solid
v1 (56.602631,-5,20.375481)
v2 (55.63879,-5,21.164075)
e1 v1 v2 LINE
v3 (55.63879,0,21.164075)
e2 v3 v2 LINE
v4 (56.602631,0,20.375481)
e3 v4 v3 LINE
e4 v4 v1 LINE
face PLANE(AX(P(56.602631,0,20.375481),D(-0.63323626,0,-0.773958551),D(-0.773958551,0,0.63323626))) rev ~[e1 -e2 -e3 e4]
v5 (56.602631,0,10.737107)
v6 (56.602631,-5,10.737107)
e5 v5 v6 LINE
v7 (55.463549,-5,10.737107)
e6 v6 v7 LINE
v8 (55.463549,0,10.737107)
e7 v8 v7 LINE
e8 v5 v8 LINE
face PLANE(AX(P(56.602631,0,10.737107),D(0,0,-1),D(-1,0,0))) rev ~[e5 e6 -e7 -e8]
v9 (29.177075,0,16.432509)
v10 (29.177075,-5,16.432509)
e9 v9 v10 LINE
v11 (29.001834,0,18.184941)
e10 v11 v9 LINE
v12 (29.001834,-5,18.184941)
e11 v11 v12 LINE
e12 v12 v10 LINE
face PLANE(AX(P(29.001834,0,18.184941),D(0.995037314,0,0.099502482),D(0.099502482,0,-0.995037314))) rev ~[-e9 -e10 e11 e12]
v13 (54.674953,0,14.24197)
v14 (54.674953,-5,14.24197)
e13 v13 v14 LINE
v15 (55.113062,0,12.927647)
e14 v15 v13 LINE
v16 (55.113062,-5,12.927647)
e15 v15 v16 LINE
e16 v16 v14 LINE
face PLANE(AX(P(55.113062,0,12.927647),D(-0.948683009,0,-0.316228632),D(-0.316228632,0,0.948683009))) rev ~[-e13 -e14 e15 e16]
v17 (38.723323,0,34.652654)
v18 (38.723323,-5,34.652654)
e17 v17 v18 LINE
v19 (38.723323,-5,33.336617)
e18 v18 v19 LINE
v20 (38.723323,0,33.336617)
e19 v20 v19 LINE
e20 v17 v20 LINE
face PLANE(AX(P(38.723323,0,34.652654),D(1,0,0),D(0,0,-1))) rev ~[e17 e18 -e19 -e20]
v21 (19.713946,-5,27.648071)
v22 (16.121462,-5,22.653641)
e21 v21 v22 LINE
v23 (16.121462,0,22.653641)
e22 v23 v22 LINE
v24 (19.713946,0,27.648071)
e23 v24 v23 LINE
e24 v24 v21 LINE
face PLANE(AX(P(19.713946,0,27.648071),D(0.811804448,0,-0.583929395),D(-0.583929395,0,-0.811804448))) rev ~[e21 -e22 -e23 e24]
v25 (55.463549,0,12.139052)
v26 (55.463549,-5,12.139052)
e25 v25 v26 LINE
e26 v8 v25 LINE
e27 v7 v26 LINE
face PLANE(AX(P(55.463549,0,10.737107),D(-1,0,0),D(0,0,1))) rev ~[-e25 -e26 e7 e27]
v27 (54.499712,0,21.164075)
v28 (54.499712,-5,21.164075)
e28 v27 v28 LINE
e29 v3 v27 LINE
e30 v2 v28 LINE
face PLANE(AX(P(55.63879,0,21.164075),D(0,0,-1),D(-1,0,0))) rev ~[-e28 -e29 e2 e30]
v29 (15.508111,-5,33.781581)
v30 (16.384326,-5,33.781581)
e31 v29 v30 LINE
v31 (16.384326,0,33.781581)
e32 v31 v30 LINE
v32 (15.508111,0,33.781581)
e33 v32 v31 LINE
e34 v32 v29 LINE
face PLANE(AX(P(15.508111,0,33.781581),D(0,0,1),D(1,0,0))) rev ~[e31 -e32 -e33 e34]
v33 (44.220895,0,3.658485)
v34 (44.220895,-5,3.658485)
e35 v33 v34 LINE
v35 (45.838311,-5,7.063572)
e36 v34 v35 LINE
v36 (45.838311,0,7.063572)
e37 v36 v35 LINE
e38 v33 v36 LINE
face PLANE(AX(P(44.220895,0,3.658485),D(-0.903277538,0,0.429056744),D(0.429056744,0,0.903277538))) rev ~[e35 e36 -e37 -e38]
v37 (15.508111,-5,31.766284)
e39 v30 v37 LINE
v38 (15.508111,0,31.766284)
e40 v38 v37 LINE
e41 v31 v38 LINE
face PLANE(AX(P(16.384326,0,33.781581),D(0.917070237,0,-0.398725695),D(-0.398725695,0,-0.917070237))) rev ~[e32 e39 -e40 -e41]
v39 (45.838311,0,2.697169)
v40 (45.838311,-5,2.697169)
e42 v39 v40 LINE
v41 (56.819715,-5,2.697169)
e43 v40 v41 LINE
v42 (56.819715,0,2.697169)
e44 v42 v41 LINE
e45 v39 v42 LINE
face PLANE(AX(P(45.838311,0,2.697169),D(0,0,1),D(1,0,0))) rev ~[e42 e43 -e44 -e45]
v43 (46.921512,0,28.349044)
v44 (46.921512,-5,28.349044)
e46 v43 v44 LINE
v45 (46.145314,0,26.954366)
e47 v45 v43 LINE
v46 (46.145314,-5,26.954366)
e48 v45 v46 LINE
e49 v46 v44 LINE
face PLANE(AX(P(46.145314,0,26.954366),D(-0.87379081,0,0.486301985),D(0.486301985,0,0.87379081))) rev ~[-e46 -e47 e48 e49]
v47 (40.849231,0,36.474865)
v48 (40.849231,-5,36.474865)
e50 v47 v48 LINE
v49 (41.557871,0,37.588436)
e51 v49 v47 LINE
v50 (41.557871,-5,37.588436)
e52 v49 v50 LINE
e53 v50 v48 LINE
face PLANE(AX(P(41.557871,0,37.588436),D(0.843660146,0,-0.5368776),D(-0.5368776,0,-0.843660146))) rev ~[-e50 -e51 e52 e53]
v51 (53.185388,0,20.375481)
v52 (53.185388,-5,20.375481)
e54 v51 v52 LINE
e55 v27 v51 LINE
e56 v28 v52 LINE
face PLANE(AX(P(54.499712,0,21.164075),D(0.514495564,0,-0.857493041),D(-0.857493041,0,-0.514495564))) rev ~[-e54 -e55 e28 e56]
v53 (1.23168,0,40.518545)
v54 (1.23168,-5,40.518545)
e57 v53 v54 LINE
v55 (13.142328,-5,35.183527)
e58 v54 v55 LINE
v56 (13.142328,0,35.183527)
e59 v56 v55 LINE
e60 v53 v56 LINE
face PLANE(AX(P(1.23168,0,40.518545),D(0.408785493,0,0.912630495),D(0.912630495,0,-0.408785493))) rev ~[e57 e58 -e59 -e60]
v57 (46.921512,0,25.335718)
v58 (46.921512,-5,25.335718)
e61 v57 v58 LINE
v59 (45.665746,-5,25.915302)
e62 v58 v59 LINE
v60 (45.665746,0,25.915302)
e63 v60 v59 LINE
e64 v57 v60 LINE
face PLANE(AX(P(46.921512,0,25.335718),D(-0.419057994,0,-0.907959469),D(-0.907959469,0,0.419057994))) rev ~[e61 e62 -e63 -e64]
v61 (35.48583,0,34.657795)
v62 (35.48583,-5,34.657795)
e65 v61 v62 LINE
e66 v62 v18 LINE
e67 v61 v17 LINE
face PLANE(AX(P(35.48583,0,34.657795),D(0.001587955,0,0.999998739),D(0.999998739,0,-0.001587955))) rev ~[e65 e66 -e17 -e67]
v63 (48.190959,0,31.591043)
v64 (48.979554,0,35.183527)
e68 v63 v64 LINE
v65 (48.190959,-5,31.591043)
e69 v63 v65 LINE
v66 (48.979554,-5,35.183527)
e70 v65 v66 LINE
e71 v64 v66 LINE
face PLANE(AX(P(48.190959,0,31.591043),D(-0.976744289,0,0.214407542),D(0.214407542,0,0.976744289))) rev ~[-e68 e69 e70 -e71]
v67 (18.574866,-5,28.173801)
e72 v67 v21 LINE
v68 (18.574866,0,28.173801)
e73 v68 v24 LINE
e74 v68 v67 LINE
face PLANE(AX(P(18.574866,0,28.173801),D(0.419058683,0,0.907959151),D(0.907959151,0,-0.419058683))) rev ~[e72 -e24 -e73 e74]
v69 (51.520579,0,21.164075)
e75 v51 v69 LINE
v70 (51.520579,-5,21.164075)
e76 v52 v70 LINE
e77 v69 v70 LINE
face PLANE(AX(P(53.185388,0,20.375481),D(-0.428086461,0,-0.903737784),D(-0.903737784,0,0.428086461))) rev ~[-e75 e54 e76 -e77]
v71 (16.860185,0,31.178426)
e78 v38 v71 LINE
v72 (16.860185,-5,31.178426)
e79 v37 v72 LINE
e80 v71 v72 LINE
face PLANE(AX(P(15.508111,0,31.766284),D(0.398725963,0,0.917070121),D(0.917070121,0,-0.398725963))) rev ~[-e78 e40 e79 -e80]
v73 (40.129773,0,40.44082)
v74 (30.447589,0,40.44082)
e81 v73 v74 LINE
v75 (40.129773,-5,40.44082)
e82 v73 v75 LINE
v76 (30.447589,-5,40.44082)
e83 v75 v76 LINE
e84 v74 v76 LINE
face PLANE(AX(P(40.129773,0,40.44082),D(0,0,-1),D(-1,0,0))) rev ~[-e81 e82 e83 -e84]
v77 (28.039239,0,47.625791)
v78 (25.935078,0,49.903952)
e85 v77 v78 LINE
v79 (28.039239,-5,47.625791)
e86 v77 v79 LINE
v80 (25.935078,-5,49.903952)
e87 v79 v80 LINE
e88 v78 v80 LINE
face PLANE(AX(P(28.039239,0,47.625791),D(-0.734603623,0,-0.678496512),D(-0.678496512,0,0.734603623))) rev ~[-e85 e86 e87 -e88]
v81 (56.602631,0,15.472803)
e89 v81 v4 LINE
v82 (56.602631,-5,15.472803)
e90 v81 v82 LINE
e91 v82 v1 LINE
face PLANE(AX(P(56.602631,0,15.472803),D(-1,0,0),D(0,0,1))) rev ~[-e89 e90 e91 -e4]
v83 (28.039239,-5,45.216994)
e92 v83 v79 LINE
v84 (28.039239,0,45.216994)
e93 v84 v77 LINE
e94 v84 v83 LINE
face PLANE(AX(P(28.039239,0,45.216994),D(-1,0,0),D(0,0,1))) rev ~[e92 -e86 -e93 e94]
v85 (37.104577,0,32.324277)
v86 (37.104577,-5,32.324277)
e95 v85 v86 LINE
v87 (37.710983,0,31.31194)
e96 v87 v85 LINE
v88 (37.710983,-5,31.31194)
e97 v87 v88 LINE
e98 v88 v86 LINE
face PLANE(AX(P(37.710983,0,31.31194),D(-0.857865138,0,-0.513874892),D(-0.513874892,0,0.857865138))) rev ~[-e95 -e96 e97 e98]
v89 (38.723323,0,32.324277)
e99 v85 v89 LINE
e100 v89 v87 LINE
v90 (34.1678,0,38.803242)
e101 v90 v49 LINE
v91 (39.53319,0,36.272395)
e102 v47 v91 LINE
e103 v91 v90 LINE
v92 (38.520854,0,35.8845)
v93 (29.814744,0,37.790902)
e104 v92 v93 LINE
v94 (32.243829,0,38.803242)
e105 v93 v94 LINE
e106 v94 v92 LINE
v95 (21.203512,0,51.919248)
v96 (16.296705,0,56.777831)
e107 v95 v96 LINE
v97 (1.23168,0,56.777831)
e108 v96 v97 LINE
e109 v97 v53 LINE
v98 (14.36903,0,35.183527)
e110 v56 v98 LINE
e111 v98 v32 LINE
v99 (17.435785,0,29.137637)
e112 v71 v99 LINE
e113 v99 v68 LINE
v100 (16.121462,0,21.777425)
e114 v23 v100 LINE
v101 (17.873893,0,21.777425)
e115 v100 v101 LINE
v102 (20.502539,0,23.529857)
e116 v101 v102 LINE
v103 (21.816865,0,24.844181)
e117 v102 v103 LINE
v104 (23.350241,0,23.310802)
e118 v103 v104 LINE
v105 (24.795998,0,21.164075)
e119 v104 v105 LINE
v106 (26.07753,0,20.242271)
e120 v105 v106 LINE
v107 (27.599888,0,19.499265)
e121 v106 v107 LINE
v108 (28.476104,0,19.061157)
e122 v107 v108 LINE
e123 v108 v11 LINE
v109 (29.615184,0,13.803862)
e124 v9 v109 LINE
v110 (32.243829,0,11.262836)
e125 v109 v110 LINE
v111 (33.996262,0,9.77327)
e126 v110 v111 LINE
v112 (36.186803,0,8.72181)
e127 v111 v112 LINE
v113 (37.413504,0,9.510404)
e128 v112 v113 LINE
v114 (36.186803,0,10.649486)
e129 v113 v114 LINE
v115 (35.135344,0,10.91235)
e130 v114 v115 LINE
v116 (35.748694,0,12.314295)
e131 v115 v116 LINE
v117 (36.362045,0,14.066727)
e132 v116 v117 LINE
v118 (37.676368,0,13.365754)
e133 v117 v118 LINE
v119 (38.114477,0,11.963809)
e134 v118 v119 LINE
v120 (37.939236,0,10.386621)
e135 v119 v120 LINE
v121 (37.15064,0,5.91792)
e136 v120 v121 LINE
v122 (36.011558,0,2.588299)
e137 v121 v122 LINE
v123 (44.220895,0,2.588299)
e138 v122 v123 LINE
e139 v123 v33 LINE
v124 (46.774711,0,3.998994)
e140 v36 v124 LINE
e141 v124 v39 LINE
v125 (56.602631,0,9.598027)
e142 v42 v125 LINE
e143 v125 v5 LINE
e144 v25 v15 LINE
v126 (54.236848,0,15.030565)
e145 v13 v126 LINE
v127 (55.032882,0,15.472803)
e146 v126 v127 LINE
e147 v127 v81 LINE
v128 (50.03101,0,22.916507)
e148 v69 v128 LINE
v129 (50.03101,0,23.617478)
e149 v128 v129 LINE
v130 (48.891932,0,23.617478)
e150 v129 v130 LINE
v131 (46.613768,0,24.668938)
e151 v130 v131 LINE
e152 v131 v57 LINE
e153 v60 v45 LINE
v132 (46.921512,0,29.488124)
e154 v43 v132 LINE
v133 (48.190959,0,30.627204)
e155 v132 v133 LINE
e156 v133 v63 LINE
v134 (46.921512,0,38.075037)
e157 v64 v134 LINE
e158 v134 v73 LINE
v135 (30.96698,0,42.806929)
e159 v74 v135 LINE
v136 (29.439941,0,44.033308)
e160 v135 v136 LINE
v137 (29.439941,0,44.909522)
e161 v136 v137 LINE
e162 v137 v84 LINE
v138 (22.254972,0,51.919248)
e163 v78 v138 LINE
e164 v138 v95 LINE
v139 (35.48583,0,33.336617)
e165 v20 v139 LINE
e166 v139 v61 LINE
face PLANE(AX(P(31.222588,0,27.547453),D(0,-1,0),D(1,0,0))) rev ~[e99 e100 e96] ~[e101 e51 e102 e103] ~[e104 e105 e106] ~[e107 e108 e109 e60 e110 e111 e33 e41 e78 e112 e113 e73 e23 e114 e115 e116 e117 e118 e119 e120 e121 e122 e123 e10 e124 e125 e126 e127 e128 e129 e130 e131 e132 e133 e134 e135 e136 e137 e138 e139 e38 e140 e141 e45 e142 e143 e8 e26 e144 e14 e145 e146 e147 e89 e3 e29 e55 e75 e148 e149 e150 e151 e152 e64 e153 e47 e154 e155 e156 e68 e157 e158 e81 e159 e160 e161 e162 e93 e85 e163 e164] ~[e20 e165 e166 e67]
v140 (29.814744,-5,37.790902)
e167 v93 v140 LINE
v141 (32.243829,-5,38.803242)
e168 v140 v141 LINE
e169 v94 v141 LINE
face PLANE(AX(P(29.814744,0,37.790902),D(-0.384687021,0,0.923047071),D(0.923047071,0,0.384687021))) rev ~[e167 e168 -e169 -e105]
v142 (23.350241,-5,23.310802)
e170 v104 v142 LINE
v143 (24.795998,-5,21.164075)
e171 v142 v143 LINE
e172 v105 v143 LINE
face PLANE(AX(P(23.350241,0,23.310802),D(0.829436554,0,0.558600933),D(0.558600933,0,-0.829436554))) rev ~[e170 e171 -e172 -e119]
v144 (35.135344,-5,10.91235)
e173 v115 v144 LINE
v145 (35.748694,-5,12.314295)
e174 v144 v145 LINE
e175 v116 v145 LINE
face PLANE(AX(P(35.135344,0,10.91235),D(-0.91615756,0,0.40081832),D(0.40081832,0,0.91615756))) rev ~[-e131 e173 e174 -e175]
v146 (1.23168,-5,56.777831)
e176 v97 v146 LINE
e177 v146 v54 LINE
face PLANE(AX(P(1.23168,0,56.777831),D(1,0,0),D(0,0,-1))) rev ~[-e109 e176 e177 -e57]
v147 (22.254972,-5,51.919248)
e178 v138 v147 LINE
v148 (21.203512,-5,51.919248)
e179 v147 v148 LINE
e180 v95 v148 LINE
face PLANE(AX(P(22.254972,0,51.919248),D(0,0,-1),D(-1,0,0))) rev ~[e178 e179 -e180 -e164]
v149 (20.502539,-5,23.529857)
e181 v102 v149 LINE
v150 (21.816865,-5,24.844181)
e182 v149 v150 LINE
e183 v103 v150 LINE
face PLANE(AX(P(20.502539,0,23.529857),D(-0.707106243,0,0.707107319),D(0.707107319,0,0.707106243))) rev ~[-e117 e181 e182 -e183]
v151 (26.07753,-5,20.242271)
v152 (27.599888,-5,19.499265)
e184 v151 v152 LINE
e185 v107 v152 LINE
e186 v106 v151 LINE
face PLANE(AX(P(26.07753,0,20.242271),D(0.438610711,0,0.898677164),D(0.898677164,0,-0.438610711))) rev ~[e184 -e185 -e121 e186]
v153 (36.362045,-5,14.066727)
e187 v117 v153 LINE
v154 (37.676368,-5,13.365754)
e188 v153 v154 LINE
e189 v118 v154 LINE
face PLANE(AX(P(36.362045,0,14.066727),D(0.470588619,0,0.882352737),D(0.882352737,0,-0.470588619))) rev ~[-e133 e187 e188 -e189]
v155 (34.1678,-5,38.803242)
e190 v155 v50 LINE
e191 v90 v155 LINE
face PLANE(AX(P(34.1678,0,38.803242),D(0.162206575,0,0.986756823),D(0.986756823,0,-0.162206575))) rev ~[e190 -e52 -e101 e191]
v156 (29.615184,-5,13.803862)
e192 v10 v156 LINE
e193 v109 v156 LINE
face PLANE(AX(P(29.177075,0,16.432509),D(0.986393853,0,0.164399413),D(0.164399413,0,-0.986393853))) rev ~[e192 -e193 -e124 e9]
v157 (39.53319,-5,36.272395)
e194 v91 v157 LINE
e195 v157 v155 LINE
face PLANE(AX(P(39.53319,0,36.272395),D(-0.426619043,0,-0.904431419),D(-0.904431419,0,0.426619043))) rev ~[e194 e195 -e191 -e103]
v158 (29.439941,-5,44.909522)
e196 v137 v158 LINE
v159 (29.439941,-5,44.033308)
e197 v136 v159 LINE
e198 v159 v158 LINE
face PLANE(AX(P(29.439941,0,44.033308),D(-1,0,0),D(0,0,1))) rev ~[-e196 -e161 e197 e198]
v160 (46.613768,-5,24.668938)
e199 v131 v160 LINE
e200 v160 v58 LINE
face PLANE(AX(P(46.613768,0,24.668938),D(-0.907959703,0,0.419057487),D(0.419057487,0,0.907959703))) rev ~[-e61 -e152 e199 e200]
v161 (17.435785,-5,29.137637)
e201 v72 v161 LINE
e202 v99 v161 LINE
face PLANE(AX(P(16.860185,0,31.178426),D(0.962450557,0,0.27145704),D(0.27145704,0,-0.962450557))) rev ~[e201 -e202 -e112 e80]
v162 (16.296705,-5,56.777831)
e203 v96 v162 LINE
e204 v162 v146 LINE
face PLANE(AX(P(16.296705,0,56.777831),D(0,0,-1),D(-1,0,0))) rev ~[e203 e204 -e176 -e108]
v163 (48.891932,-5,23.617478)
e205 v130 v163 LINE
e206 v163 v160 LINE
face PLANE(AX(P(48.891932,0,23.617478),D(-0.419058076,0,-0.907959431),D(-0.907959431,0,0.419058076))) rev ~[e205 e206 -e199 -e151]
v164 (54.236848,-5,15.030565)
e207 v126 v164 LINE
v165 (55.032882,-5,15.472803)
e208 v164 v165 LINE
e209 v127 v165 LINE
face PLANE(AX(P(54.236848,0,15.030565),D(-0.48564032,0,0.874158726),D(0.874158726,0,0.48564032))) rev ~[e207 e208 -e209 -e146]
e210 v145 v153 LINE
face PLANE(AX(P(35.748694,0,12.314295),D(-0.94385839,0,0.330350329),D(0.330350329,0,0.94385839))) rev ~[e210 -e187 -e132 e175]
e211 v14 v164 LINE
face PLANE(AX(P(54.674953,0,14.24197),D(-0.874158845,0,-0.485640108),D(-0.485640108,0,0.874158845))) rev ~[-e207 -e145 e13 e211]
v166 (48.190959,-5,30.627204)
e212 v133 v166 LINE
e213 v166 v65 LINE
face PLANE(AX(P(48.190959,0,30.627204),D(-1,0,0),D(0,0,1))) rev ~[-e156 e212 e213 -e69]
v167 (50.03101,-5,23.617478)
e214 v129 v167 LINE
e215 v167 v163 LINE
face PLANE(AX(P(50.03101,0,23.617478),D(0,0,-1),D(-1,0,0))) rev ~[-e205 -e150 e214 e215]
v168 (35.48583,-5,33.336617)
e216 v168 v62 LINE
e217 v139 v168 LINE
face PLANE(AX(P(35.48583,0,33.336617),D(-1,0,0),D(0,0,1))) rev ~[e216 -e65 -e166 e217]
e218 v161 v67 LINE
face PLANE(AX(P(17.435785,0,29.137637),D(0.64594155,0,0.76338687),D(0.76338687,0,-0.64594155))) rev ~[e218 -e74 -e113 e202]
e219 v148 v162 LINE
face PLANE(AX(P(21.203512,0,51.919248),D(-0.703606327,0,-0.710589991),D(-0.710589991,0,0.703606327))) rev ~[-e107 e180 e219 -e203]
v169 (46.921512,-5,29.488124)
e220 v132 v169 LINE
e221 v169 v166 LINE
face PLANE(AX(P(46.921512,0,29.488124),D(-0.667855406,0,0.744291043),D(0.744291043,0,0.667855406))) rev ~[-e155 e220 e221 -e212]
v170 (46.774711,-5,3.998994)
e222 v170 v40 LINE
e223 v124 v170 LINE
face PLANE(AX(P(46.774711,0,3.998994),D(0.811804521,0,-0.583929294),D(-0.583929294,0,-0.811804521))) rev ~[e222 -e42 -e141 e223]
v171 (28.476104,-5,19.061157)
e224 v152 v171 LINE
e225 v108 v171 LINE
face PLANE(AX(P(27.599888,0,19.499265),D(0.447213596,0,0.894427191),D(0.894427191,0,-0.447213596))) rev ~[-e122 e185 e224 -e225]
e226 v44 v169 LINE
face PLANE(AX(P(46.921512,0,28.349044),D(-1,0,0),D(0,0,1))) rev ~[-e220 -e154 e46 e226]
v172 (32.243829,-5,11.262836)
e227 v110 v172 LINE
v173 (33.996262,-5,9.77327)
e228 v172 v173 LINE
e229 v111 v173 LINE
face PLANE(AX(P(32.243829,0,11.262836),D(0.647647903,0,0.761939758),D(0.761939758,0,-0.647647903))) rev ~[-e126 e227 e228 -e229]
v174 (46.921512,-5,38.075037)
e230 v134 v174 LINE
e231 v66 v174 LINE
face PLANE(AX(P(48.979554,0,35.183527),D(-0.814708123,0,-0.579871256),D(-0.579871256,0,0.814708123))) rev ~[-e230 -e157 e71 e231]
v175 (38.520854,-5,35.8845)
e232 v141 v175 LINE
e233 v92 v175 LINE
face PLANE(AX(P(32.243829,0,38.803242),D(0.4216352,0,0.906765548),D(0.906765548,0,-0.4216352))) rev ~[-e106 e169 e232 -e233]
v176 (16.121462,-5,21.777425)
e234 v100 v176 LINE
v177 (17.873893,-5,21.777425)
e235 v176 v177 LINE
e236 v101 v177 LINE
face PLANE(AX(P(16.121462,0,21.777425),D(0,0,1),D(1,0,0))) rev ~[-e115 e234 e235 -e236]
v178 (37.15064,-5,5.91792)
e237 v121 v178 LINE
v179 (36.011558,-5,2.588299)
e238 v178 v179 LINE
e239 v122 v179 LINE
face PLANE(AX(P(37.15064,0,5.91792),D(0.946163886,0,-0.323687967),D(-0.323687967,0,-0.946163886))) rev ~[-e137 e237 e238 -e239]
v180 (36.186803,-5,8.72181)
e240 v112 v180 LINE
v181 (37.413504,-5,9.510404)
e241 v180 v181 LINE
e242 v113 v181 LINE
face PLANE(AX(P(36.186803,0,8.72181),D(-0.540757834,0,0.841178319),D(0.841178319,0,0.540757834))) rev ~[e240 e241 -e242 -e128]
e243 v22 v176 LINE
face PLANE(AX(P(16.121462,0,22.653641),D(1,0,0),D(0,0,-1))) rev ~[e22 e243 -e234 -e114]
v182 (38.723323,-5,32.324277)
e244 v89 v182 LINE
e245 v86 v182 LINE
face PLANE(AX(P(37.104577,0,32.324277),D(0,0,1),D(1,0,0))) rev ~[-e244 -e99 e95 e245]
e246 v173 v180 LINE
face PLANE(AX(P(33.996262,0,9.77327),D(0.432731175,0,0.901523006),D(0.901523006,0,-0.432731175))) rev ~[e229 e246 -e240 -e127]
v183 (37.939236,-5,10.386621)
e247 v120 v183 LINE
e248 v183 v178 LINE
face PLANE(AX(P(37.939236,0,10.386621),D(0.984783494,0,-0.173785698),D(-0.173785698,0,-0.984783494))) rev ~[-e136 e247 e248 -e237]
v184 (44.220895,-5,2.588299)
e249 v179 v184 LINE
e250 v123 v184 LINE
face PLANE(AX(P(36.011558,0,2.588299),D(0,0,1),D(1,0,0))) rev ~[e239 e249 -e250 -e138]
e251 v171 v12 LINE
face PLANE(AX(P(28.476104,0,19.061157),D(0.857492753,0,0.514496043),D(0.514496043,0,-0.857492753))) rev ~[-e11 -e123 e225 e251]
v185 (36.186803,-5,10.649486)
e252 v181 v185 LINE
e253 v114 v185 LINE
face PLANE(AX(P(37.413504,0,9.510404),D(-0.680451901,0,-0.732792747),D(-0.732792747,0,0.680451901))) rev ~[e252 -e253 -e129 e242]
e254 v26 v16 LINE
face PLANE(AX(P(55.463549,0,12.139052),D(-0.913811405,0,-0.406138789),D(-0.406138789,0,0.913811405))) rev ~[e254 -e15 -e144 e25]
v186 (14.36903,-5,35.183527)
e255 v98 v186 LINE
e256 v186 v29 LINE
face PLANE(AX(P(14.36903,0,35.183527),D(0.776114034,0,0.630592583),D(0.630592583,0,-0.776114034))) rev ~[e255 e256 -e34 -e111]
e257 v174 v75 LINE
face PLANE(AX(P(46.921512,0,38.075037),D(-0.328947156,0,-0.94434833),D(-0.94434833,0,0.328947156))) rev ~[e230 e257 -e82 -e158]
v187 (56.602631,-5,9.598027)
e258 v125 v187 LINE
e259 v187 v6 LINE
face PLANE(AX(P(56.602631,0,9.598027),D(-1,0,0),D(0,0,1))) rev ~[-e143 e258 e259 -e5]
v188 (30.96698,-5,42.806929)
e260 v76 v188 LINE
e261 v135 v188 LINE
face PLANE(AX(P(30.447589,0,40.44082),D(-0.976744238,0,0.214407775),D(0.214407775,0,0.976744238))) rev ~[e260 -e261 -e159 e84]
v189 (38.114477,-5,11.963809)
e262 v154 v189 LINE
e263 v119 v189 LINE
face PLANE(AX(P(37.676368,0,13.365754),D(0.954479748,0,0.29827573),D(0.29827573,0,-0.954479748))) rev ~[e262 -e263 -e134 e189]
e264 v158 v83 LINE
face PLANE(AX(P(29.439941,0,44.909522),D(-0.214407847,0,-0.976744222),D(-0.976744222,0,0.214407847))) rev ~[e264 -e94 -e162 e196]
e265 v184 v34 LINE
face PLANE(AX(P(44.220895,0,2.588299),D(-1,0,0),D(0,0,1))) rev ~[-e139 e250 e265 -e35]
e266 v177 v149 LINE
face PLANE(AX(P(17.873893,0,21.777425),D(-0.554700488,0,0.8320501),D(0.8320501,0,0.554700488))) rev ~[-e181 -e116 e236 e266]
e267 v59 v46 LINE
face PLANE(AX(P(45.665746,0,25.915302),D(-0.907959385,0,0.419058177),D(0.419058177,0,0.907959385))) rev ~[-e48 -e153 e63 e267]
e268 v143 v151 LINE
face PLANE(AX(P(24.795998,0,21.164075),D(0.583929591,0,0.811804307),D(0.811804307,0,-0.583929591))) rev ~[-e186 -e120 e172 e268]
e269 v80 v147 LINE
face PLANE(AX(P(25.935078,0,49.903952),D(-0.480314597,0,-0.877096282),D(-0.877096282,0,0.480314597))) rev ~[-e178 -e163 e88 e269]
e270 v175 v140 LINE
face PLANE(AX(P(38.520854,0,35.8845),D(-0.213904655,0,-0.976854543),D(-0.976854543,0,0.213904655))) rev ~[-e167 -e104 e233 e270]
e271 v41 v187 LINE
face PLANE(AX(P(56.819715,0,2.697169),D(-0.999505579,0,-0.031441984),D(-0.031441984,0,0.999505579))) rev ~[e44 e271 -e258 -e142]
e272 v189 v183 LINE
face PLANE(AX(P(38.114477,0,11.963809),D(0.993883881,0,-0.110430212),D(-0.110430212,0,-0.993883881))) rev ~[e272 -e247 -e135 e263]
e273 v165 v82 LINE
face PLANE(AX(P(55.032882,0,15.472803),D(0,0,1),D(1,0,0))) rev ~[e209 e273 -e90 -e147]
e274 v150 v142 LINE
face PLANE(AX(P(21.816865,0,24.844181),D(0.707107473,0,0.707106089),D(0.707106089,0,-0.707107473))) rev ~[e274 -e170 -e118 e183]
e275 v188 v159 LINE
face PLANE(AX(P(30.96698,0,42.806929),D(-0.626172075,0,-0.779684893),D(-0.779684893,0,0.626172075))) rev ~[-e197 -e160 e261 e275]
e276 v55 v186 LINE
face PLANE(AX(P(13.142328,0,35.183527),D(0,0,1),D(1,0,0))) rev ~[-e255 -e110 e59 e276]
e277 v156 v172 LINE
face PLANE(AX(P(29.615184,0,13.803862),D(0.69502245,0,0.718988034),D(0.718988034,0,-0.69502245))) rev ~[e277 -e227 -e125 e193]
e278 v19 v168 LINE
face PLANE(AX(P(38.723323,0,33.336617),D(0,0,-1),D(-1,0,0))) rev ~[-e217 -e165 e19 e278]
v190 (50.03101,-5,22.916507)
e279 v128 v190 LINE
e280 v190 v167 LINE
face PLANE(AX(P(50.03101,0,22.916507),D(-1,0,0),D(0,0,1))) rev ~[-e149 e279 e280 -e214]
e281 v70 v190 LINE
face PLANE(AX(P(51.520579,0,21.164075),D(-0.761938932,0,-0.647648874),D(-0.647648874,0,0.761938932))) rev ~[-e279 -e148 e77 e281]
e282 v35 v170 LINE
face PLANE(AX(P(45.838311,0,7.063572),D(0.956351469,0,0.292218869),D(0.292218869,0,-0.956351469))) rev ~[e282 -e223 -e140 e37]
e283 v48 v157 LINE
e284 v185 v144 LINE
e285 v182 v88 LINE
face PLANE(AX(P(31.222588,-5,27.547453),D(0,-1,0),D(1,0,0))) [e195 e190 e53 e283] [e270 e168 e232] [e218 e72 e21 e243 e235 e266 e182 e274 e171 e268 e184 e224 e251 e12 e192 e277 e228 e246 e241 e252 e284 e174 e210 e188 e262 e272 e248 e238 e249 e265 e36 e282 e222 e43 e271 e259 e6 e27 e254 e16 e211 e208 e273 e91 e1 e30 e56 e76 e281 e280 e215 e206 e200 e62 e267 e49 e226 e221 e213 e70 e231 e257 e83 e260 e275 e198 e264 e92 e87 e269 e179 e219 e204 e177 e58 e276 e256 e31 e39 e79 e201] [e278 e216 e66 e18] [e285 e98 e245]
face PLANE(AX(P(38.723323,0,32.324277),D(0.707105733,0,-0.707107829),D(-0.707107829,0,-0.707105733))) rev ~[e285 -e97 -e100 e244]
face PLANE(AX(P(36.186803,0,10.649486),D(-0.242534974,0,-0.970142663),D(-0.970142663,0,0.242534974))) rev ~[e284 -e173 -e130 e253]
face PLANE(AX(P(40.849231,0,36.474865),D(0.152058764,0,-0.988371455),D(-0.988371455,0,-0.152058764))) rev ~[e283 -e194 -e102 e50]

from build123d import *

# Parameters (mm, degrees)
F1_DEPTH = 5


with BuildPart() as f1:
    # F0 (on Front) → F1 (new body)
    with BuildSketch(Plane.XZ):
        Polygon((56.602631, 9.598027), (56.602631, 10.737107), (55.463549, 10.737107), (55.463549, 12.139052), (55.113062, 12.927647), (54.674953, 14.24197), (54.236848, 15.030565), (55.032882, 15.472803), (55.726416, 15.472803), (56.602631, 15.472803), (56.602631, 20.375481), (55.63879, 21.164075), (54.499712, 21.164075), (53.185388, 20.375481), (51.520579, 21.164075), (50.03101, 22.916507), (50.03101, 23.617478), (48.891932, 23.617478), (46.613768, 24.668938), (46.921512, 25.335718), (45.665746, 25.915302), (46.145314, 26.954366), (46.921512, 28.349044), (46.921512, 29.488124), (48.190959, 30.627204), (48.190959, 31.591043), (48.979554, 35.183527), (46.921512, 38.075037), (40.129773, 40.44082), (31.455237, 40.44082), (30.447589, 40.44082), (30.96698, 42.806929), (29.439941, 44.033308), (29.439941, 44.909522), (28.039239, 45.216994), (28.039239, 47.625791), (25.935078, 49.903952), (22.254972, 51.919248), (21.203512, 51.919248), (16.296705, 56.777831), (1.23168, 56.777831), (1.23168, 40.518545), (13.142328, 35.183527), (14.36903, 35.183527), (15.508111, 33.781581), (16.384326, 33.781581), (15.508111, 31.766284), (16.860185, 31.178426), (17.435785, 29.137637), (18.574866, 28.173801), (19.713946, 27.648071), (16.121462, 22.653641), (16.121462, 21.777425), (17.873893, 21.777425), (20.502539, 23.529857), (21.816865, 24.844181), (23.350241, 23.310802), (24.795998, 21.164075), (26.07753, 20.242271), (27.599888, 19.499265), (28.476104, 19.061157), (29.001834, 18.184941), (29.177075, 16.432509), (29.615184, 13.803862), (32.243829, 11.262836), (33.996262, 9.77327), (36.186803, 8.72181), (37.413504, 9.510404), (36.186803, 10.649486), (35.135344, 10.91235), (35.748694, 12.314295), (36.362045, 14.066727), (37.676368, 13.365754), (38.114477, 11.963809), (37.939236, 10.386621), (37.15064, 5.91792), (36.011558, 2.588299), (44.220895, 2.588299), (44.220895, 3.658485), (45.838311, 7.063572), (46.774711, 3.998994), (45.838311, 2.697169), (56.819715, 2.697169), align=None)
        Polygon((38.723323, 32.324277), (37.710983, 31.31194), (37.104577, 32.324277), align=None, mode=Mode.SUBTRACT)
        Polygon((35.48583, 34.657795), (38.723323, 34.652654), (38.723323, 33.336617), (35.48583, 33.336617), align=None, mode=Mode.SUBTRACT)
        Polygon((29.814744, 37.790902), (32.243829, 38.803242), (38.520854, 35.8845), align=None, mode=Mode.SUBTRACT)
        Polygon((41.557871, 37.588436), (40.849231, 36.474865), (39.53319, 36.272395), (34.1678, 38.803242), align=None, mode=Mode.SUBTRACT)
    extrude(amount=F1_DEPTH)


solid = f1.part
